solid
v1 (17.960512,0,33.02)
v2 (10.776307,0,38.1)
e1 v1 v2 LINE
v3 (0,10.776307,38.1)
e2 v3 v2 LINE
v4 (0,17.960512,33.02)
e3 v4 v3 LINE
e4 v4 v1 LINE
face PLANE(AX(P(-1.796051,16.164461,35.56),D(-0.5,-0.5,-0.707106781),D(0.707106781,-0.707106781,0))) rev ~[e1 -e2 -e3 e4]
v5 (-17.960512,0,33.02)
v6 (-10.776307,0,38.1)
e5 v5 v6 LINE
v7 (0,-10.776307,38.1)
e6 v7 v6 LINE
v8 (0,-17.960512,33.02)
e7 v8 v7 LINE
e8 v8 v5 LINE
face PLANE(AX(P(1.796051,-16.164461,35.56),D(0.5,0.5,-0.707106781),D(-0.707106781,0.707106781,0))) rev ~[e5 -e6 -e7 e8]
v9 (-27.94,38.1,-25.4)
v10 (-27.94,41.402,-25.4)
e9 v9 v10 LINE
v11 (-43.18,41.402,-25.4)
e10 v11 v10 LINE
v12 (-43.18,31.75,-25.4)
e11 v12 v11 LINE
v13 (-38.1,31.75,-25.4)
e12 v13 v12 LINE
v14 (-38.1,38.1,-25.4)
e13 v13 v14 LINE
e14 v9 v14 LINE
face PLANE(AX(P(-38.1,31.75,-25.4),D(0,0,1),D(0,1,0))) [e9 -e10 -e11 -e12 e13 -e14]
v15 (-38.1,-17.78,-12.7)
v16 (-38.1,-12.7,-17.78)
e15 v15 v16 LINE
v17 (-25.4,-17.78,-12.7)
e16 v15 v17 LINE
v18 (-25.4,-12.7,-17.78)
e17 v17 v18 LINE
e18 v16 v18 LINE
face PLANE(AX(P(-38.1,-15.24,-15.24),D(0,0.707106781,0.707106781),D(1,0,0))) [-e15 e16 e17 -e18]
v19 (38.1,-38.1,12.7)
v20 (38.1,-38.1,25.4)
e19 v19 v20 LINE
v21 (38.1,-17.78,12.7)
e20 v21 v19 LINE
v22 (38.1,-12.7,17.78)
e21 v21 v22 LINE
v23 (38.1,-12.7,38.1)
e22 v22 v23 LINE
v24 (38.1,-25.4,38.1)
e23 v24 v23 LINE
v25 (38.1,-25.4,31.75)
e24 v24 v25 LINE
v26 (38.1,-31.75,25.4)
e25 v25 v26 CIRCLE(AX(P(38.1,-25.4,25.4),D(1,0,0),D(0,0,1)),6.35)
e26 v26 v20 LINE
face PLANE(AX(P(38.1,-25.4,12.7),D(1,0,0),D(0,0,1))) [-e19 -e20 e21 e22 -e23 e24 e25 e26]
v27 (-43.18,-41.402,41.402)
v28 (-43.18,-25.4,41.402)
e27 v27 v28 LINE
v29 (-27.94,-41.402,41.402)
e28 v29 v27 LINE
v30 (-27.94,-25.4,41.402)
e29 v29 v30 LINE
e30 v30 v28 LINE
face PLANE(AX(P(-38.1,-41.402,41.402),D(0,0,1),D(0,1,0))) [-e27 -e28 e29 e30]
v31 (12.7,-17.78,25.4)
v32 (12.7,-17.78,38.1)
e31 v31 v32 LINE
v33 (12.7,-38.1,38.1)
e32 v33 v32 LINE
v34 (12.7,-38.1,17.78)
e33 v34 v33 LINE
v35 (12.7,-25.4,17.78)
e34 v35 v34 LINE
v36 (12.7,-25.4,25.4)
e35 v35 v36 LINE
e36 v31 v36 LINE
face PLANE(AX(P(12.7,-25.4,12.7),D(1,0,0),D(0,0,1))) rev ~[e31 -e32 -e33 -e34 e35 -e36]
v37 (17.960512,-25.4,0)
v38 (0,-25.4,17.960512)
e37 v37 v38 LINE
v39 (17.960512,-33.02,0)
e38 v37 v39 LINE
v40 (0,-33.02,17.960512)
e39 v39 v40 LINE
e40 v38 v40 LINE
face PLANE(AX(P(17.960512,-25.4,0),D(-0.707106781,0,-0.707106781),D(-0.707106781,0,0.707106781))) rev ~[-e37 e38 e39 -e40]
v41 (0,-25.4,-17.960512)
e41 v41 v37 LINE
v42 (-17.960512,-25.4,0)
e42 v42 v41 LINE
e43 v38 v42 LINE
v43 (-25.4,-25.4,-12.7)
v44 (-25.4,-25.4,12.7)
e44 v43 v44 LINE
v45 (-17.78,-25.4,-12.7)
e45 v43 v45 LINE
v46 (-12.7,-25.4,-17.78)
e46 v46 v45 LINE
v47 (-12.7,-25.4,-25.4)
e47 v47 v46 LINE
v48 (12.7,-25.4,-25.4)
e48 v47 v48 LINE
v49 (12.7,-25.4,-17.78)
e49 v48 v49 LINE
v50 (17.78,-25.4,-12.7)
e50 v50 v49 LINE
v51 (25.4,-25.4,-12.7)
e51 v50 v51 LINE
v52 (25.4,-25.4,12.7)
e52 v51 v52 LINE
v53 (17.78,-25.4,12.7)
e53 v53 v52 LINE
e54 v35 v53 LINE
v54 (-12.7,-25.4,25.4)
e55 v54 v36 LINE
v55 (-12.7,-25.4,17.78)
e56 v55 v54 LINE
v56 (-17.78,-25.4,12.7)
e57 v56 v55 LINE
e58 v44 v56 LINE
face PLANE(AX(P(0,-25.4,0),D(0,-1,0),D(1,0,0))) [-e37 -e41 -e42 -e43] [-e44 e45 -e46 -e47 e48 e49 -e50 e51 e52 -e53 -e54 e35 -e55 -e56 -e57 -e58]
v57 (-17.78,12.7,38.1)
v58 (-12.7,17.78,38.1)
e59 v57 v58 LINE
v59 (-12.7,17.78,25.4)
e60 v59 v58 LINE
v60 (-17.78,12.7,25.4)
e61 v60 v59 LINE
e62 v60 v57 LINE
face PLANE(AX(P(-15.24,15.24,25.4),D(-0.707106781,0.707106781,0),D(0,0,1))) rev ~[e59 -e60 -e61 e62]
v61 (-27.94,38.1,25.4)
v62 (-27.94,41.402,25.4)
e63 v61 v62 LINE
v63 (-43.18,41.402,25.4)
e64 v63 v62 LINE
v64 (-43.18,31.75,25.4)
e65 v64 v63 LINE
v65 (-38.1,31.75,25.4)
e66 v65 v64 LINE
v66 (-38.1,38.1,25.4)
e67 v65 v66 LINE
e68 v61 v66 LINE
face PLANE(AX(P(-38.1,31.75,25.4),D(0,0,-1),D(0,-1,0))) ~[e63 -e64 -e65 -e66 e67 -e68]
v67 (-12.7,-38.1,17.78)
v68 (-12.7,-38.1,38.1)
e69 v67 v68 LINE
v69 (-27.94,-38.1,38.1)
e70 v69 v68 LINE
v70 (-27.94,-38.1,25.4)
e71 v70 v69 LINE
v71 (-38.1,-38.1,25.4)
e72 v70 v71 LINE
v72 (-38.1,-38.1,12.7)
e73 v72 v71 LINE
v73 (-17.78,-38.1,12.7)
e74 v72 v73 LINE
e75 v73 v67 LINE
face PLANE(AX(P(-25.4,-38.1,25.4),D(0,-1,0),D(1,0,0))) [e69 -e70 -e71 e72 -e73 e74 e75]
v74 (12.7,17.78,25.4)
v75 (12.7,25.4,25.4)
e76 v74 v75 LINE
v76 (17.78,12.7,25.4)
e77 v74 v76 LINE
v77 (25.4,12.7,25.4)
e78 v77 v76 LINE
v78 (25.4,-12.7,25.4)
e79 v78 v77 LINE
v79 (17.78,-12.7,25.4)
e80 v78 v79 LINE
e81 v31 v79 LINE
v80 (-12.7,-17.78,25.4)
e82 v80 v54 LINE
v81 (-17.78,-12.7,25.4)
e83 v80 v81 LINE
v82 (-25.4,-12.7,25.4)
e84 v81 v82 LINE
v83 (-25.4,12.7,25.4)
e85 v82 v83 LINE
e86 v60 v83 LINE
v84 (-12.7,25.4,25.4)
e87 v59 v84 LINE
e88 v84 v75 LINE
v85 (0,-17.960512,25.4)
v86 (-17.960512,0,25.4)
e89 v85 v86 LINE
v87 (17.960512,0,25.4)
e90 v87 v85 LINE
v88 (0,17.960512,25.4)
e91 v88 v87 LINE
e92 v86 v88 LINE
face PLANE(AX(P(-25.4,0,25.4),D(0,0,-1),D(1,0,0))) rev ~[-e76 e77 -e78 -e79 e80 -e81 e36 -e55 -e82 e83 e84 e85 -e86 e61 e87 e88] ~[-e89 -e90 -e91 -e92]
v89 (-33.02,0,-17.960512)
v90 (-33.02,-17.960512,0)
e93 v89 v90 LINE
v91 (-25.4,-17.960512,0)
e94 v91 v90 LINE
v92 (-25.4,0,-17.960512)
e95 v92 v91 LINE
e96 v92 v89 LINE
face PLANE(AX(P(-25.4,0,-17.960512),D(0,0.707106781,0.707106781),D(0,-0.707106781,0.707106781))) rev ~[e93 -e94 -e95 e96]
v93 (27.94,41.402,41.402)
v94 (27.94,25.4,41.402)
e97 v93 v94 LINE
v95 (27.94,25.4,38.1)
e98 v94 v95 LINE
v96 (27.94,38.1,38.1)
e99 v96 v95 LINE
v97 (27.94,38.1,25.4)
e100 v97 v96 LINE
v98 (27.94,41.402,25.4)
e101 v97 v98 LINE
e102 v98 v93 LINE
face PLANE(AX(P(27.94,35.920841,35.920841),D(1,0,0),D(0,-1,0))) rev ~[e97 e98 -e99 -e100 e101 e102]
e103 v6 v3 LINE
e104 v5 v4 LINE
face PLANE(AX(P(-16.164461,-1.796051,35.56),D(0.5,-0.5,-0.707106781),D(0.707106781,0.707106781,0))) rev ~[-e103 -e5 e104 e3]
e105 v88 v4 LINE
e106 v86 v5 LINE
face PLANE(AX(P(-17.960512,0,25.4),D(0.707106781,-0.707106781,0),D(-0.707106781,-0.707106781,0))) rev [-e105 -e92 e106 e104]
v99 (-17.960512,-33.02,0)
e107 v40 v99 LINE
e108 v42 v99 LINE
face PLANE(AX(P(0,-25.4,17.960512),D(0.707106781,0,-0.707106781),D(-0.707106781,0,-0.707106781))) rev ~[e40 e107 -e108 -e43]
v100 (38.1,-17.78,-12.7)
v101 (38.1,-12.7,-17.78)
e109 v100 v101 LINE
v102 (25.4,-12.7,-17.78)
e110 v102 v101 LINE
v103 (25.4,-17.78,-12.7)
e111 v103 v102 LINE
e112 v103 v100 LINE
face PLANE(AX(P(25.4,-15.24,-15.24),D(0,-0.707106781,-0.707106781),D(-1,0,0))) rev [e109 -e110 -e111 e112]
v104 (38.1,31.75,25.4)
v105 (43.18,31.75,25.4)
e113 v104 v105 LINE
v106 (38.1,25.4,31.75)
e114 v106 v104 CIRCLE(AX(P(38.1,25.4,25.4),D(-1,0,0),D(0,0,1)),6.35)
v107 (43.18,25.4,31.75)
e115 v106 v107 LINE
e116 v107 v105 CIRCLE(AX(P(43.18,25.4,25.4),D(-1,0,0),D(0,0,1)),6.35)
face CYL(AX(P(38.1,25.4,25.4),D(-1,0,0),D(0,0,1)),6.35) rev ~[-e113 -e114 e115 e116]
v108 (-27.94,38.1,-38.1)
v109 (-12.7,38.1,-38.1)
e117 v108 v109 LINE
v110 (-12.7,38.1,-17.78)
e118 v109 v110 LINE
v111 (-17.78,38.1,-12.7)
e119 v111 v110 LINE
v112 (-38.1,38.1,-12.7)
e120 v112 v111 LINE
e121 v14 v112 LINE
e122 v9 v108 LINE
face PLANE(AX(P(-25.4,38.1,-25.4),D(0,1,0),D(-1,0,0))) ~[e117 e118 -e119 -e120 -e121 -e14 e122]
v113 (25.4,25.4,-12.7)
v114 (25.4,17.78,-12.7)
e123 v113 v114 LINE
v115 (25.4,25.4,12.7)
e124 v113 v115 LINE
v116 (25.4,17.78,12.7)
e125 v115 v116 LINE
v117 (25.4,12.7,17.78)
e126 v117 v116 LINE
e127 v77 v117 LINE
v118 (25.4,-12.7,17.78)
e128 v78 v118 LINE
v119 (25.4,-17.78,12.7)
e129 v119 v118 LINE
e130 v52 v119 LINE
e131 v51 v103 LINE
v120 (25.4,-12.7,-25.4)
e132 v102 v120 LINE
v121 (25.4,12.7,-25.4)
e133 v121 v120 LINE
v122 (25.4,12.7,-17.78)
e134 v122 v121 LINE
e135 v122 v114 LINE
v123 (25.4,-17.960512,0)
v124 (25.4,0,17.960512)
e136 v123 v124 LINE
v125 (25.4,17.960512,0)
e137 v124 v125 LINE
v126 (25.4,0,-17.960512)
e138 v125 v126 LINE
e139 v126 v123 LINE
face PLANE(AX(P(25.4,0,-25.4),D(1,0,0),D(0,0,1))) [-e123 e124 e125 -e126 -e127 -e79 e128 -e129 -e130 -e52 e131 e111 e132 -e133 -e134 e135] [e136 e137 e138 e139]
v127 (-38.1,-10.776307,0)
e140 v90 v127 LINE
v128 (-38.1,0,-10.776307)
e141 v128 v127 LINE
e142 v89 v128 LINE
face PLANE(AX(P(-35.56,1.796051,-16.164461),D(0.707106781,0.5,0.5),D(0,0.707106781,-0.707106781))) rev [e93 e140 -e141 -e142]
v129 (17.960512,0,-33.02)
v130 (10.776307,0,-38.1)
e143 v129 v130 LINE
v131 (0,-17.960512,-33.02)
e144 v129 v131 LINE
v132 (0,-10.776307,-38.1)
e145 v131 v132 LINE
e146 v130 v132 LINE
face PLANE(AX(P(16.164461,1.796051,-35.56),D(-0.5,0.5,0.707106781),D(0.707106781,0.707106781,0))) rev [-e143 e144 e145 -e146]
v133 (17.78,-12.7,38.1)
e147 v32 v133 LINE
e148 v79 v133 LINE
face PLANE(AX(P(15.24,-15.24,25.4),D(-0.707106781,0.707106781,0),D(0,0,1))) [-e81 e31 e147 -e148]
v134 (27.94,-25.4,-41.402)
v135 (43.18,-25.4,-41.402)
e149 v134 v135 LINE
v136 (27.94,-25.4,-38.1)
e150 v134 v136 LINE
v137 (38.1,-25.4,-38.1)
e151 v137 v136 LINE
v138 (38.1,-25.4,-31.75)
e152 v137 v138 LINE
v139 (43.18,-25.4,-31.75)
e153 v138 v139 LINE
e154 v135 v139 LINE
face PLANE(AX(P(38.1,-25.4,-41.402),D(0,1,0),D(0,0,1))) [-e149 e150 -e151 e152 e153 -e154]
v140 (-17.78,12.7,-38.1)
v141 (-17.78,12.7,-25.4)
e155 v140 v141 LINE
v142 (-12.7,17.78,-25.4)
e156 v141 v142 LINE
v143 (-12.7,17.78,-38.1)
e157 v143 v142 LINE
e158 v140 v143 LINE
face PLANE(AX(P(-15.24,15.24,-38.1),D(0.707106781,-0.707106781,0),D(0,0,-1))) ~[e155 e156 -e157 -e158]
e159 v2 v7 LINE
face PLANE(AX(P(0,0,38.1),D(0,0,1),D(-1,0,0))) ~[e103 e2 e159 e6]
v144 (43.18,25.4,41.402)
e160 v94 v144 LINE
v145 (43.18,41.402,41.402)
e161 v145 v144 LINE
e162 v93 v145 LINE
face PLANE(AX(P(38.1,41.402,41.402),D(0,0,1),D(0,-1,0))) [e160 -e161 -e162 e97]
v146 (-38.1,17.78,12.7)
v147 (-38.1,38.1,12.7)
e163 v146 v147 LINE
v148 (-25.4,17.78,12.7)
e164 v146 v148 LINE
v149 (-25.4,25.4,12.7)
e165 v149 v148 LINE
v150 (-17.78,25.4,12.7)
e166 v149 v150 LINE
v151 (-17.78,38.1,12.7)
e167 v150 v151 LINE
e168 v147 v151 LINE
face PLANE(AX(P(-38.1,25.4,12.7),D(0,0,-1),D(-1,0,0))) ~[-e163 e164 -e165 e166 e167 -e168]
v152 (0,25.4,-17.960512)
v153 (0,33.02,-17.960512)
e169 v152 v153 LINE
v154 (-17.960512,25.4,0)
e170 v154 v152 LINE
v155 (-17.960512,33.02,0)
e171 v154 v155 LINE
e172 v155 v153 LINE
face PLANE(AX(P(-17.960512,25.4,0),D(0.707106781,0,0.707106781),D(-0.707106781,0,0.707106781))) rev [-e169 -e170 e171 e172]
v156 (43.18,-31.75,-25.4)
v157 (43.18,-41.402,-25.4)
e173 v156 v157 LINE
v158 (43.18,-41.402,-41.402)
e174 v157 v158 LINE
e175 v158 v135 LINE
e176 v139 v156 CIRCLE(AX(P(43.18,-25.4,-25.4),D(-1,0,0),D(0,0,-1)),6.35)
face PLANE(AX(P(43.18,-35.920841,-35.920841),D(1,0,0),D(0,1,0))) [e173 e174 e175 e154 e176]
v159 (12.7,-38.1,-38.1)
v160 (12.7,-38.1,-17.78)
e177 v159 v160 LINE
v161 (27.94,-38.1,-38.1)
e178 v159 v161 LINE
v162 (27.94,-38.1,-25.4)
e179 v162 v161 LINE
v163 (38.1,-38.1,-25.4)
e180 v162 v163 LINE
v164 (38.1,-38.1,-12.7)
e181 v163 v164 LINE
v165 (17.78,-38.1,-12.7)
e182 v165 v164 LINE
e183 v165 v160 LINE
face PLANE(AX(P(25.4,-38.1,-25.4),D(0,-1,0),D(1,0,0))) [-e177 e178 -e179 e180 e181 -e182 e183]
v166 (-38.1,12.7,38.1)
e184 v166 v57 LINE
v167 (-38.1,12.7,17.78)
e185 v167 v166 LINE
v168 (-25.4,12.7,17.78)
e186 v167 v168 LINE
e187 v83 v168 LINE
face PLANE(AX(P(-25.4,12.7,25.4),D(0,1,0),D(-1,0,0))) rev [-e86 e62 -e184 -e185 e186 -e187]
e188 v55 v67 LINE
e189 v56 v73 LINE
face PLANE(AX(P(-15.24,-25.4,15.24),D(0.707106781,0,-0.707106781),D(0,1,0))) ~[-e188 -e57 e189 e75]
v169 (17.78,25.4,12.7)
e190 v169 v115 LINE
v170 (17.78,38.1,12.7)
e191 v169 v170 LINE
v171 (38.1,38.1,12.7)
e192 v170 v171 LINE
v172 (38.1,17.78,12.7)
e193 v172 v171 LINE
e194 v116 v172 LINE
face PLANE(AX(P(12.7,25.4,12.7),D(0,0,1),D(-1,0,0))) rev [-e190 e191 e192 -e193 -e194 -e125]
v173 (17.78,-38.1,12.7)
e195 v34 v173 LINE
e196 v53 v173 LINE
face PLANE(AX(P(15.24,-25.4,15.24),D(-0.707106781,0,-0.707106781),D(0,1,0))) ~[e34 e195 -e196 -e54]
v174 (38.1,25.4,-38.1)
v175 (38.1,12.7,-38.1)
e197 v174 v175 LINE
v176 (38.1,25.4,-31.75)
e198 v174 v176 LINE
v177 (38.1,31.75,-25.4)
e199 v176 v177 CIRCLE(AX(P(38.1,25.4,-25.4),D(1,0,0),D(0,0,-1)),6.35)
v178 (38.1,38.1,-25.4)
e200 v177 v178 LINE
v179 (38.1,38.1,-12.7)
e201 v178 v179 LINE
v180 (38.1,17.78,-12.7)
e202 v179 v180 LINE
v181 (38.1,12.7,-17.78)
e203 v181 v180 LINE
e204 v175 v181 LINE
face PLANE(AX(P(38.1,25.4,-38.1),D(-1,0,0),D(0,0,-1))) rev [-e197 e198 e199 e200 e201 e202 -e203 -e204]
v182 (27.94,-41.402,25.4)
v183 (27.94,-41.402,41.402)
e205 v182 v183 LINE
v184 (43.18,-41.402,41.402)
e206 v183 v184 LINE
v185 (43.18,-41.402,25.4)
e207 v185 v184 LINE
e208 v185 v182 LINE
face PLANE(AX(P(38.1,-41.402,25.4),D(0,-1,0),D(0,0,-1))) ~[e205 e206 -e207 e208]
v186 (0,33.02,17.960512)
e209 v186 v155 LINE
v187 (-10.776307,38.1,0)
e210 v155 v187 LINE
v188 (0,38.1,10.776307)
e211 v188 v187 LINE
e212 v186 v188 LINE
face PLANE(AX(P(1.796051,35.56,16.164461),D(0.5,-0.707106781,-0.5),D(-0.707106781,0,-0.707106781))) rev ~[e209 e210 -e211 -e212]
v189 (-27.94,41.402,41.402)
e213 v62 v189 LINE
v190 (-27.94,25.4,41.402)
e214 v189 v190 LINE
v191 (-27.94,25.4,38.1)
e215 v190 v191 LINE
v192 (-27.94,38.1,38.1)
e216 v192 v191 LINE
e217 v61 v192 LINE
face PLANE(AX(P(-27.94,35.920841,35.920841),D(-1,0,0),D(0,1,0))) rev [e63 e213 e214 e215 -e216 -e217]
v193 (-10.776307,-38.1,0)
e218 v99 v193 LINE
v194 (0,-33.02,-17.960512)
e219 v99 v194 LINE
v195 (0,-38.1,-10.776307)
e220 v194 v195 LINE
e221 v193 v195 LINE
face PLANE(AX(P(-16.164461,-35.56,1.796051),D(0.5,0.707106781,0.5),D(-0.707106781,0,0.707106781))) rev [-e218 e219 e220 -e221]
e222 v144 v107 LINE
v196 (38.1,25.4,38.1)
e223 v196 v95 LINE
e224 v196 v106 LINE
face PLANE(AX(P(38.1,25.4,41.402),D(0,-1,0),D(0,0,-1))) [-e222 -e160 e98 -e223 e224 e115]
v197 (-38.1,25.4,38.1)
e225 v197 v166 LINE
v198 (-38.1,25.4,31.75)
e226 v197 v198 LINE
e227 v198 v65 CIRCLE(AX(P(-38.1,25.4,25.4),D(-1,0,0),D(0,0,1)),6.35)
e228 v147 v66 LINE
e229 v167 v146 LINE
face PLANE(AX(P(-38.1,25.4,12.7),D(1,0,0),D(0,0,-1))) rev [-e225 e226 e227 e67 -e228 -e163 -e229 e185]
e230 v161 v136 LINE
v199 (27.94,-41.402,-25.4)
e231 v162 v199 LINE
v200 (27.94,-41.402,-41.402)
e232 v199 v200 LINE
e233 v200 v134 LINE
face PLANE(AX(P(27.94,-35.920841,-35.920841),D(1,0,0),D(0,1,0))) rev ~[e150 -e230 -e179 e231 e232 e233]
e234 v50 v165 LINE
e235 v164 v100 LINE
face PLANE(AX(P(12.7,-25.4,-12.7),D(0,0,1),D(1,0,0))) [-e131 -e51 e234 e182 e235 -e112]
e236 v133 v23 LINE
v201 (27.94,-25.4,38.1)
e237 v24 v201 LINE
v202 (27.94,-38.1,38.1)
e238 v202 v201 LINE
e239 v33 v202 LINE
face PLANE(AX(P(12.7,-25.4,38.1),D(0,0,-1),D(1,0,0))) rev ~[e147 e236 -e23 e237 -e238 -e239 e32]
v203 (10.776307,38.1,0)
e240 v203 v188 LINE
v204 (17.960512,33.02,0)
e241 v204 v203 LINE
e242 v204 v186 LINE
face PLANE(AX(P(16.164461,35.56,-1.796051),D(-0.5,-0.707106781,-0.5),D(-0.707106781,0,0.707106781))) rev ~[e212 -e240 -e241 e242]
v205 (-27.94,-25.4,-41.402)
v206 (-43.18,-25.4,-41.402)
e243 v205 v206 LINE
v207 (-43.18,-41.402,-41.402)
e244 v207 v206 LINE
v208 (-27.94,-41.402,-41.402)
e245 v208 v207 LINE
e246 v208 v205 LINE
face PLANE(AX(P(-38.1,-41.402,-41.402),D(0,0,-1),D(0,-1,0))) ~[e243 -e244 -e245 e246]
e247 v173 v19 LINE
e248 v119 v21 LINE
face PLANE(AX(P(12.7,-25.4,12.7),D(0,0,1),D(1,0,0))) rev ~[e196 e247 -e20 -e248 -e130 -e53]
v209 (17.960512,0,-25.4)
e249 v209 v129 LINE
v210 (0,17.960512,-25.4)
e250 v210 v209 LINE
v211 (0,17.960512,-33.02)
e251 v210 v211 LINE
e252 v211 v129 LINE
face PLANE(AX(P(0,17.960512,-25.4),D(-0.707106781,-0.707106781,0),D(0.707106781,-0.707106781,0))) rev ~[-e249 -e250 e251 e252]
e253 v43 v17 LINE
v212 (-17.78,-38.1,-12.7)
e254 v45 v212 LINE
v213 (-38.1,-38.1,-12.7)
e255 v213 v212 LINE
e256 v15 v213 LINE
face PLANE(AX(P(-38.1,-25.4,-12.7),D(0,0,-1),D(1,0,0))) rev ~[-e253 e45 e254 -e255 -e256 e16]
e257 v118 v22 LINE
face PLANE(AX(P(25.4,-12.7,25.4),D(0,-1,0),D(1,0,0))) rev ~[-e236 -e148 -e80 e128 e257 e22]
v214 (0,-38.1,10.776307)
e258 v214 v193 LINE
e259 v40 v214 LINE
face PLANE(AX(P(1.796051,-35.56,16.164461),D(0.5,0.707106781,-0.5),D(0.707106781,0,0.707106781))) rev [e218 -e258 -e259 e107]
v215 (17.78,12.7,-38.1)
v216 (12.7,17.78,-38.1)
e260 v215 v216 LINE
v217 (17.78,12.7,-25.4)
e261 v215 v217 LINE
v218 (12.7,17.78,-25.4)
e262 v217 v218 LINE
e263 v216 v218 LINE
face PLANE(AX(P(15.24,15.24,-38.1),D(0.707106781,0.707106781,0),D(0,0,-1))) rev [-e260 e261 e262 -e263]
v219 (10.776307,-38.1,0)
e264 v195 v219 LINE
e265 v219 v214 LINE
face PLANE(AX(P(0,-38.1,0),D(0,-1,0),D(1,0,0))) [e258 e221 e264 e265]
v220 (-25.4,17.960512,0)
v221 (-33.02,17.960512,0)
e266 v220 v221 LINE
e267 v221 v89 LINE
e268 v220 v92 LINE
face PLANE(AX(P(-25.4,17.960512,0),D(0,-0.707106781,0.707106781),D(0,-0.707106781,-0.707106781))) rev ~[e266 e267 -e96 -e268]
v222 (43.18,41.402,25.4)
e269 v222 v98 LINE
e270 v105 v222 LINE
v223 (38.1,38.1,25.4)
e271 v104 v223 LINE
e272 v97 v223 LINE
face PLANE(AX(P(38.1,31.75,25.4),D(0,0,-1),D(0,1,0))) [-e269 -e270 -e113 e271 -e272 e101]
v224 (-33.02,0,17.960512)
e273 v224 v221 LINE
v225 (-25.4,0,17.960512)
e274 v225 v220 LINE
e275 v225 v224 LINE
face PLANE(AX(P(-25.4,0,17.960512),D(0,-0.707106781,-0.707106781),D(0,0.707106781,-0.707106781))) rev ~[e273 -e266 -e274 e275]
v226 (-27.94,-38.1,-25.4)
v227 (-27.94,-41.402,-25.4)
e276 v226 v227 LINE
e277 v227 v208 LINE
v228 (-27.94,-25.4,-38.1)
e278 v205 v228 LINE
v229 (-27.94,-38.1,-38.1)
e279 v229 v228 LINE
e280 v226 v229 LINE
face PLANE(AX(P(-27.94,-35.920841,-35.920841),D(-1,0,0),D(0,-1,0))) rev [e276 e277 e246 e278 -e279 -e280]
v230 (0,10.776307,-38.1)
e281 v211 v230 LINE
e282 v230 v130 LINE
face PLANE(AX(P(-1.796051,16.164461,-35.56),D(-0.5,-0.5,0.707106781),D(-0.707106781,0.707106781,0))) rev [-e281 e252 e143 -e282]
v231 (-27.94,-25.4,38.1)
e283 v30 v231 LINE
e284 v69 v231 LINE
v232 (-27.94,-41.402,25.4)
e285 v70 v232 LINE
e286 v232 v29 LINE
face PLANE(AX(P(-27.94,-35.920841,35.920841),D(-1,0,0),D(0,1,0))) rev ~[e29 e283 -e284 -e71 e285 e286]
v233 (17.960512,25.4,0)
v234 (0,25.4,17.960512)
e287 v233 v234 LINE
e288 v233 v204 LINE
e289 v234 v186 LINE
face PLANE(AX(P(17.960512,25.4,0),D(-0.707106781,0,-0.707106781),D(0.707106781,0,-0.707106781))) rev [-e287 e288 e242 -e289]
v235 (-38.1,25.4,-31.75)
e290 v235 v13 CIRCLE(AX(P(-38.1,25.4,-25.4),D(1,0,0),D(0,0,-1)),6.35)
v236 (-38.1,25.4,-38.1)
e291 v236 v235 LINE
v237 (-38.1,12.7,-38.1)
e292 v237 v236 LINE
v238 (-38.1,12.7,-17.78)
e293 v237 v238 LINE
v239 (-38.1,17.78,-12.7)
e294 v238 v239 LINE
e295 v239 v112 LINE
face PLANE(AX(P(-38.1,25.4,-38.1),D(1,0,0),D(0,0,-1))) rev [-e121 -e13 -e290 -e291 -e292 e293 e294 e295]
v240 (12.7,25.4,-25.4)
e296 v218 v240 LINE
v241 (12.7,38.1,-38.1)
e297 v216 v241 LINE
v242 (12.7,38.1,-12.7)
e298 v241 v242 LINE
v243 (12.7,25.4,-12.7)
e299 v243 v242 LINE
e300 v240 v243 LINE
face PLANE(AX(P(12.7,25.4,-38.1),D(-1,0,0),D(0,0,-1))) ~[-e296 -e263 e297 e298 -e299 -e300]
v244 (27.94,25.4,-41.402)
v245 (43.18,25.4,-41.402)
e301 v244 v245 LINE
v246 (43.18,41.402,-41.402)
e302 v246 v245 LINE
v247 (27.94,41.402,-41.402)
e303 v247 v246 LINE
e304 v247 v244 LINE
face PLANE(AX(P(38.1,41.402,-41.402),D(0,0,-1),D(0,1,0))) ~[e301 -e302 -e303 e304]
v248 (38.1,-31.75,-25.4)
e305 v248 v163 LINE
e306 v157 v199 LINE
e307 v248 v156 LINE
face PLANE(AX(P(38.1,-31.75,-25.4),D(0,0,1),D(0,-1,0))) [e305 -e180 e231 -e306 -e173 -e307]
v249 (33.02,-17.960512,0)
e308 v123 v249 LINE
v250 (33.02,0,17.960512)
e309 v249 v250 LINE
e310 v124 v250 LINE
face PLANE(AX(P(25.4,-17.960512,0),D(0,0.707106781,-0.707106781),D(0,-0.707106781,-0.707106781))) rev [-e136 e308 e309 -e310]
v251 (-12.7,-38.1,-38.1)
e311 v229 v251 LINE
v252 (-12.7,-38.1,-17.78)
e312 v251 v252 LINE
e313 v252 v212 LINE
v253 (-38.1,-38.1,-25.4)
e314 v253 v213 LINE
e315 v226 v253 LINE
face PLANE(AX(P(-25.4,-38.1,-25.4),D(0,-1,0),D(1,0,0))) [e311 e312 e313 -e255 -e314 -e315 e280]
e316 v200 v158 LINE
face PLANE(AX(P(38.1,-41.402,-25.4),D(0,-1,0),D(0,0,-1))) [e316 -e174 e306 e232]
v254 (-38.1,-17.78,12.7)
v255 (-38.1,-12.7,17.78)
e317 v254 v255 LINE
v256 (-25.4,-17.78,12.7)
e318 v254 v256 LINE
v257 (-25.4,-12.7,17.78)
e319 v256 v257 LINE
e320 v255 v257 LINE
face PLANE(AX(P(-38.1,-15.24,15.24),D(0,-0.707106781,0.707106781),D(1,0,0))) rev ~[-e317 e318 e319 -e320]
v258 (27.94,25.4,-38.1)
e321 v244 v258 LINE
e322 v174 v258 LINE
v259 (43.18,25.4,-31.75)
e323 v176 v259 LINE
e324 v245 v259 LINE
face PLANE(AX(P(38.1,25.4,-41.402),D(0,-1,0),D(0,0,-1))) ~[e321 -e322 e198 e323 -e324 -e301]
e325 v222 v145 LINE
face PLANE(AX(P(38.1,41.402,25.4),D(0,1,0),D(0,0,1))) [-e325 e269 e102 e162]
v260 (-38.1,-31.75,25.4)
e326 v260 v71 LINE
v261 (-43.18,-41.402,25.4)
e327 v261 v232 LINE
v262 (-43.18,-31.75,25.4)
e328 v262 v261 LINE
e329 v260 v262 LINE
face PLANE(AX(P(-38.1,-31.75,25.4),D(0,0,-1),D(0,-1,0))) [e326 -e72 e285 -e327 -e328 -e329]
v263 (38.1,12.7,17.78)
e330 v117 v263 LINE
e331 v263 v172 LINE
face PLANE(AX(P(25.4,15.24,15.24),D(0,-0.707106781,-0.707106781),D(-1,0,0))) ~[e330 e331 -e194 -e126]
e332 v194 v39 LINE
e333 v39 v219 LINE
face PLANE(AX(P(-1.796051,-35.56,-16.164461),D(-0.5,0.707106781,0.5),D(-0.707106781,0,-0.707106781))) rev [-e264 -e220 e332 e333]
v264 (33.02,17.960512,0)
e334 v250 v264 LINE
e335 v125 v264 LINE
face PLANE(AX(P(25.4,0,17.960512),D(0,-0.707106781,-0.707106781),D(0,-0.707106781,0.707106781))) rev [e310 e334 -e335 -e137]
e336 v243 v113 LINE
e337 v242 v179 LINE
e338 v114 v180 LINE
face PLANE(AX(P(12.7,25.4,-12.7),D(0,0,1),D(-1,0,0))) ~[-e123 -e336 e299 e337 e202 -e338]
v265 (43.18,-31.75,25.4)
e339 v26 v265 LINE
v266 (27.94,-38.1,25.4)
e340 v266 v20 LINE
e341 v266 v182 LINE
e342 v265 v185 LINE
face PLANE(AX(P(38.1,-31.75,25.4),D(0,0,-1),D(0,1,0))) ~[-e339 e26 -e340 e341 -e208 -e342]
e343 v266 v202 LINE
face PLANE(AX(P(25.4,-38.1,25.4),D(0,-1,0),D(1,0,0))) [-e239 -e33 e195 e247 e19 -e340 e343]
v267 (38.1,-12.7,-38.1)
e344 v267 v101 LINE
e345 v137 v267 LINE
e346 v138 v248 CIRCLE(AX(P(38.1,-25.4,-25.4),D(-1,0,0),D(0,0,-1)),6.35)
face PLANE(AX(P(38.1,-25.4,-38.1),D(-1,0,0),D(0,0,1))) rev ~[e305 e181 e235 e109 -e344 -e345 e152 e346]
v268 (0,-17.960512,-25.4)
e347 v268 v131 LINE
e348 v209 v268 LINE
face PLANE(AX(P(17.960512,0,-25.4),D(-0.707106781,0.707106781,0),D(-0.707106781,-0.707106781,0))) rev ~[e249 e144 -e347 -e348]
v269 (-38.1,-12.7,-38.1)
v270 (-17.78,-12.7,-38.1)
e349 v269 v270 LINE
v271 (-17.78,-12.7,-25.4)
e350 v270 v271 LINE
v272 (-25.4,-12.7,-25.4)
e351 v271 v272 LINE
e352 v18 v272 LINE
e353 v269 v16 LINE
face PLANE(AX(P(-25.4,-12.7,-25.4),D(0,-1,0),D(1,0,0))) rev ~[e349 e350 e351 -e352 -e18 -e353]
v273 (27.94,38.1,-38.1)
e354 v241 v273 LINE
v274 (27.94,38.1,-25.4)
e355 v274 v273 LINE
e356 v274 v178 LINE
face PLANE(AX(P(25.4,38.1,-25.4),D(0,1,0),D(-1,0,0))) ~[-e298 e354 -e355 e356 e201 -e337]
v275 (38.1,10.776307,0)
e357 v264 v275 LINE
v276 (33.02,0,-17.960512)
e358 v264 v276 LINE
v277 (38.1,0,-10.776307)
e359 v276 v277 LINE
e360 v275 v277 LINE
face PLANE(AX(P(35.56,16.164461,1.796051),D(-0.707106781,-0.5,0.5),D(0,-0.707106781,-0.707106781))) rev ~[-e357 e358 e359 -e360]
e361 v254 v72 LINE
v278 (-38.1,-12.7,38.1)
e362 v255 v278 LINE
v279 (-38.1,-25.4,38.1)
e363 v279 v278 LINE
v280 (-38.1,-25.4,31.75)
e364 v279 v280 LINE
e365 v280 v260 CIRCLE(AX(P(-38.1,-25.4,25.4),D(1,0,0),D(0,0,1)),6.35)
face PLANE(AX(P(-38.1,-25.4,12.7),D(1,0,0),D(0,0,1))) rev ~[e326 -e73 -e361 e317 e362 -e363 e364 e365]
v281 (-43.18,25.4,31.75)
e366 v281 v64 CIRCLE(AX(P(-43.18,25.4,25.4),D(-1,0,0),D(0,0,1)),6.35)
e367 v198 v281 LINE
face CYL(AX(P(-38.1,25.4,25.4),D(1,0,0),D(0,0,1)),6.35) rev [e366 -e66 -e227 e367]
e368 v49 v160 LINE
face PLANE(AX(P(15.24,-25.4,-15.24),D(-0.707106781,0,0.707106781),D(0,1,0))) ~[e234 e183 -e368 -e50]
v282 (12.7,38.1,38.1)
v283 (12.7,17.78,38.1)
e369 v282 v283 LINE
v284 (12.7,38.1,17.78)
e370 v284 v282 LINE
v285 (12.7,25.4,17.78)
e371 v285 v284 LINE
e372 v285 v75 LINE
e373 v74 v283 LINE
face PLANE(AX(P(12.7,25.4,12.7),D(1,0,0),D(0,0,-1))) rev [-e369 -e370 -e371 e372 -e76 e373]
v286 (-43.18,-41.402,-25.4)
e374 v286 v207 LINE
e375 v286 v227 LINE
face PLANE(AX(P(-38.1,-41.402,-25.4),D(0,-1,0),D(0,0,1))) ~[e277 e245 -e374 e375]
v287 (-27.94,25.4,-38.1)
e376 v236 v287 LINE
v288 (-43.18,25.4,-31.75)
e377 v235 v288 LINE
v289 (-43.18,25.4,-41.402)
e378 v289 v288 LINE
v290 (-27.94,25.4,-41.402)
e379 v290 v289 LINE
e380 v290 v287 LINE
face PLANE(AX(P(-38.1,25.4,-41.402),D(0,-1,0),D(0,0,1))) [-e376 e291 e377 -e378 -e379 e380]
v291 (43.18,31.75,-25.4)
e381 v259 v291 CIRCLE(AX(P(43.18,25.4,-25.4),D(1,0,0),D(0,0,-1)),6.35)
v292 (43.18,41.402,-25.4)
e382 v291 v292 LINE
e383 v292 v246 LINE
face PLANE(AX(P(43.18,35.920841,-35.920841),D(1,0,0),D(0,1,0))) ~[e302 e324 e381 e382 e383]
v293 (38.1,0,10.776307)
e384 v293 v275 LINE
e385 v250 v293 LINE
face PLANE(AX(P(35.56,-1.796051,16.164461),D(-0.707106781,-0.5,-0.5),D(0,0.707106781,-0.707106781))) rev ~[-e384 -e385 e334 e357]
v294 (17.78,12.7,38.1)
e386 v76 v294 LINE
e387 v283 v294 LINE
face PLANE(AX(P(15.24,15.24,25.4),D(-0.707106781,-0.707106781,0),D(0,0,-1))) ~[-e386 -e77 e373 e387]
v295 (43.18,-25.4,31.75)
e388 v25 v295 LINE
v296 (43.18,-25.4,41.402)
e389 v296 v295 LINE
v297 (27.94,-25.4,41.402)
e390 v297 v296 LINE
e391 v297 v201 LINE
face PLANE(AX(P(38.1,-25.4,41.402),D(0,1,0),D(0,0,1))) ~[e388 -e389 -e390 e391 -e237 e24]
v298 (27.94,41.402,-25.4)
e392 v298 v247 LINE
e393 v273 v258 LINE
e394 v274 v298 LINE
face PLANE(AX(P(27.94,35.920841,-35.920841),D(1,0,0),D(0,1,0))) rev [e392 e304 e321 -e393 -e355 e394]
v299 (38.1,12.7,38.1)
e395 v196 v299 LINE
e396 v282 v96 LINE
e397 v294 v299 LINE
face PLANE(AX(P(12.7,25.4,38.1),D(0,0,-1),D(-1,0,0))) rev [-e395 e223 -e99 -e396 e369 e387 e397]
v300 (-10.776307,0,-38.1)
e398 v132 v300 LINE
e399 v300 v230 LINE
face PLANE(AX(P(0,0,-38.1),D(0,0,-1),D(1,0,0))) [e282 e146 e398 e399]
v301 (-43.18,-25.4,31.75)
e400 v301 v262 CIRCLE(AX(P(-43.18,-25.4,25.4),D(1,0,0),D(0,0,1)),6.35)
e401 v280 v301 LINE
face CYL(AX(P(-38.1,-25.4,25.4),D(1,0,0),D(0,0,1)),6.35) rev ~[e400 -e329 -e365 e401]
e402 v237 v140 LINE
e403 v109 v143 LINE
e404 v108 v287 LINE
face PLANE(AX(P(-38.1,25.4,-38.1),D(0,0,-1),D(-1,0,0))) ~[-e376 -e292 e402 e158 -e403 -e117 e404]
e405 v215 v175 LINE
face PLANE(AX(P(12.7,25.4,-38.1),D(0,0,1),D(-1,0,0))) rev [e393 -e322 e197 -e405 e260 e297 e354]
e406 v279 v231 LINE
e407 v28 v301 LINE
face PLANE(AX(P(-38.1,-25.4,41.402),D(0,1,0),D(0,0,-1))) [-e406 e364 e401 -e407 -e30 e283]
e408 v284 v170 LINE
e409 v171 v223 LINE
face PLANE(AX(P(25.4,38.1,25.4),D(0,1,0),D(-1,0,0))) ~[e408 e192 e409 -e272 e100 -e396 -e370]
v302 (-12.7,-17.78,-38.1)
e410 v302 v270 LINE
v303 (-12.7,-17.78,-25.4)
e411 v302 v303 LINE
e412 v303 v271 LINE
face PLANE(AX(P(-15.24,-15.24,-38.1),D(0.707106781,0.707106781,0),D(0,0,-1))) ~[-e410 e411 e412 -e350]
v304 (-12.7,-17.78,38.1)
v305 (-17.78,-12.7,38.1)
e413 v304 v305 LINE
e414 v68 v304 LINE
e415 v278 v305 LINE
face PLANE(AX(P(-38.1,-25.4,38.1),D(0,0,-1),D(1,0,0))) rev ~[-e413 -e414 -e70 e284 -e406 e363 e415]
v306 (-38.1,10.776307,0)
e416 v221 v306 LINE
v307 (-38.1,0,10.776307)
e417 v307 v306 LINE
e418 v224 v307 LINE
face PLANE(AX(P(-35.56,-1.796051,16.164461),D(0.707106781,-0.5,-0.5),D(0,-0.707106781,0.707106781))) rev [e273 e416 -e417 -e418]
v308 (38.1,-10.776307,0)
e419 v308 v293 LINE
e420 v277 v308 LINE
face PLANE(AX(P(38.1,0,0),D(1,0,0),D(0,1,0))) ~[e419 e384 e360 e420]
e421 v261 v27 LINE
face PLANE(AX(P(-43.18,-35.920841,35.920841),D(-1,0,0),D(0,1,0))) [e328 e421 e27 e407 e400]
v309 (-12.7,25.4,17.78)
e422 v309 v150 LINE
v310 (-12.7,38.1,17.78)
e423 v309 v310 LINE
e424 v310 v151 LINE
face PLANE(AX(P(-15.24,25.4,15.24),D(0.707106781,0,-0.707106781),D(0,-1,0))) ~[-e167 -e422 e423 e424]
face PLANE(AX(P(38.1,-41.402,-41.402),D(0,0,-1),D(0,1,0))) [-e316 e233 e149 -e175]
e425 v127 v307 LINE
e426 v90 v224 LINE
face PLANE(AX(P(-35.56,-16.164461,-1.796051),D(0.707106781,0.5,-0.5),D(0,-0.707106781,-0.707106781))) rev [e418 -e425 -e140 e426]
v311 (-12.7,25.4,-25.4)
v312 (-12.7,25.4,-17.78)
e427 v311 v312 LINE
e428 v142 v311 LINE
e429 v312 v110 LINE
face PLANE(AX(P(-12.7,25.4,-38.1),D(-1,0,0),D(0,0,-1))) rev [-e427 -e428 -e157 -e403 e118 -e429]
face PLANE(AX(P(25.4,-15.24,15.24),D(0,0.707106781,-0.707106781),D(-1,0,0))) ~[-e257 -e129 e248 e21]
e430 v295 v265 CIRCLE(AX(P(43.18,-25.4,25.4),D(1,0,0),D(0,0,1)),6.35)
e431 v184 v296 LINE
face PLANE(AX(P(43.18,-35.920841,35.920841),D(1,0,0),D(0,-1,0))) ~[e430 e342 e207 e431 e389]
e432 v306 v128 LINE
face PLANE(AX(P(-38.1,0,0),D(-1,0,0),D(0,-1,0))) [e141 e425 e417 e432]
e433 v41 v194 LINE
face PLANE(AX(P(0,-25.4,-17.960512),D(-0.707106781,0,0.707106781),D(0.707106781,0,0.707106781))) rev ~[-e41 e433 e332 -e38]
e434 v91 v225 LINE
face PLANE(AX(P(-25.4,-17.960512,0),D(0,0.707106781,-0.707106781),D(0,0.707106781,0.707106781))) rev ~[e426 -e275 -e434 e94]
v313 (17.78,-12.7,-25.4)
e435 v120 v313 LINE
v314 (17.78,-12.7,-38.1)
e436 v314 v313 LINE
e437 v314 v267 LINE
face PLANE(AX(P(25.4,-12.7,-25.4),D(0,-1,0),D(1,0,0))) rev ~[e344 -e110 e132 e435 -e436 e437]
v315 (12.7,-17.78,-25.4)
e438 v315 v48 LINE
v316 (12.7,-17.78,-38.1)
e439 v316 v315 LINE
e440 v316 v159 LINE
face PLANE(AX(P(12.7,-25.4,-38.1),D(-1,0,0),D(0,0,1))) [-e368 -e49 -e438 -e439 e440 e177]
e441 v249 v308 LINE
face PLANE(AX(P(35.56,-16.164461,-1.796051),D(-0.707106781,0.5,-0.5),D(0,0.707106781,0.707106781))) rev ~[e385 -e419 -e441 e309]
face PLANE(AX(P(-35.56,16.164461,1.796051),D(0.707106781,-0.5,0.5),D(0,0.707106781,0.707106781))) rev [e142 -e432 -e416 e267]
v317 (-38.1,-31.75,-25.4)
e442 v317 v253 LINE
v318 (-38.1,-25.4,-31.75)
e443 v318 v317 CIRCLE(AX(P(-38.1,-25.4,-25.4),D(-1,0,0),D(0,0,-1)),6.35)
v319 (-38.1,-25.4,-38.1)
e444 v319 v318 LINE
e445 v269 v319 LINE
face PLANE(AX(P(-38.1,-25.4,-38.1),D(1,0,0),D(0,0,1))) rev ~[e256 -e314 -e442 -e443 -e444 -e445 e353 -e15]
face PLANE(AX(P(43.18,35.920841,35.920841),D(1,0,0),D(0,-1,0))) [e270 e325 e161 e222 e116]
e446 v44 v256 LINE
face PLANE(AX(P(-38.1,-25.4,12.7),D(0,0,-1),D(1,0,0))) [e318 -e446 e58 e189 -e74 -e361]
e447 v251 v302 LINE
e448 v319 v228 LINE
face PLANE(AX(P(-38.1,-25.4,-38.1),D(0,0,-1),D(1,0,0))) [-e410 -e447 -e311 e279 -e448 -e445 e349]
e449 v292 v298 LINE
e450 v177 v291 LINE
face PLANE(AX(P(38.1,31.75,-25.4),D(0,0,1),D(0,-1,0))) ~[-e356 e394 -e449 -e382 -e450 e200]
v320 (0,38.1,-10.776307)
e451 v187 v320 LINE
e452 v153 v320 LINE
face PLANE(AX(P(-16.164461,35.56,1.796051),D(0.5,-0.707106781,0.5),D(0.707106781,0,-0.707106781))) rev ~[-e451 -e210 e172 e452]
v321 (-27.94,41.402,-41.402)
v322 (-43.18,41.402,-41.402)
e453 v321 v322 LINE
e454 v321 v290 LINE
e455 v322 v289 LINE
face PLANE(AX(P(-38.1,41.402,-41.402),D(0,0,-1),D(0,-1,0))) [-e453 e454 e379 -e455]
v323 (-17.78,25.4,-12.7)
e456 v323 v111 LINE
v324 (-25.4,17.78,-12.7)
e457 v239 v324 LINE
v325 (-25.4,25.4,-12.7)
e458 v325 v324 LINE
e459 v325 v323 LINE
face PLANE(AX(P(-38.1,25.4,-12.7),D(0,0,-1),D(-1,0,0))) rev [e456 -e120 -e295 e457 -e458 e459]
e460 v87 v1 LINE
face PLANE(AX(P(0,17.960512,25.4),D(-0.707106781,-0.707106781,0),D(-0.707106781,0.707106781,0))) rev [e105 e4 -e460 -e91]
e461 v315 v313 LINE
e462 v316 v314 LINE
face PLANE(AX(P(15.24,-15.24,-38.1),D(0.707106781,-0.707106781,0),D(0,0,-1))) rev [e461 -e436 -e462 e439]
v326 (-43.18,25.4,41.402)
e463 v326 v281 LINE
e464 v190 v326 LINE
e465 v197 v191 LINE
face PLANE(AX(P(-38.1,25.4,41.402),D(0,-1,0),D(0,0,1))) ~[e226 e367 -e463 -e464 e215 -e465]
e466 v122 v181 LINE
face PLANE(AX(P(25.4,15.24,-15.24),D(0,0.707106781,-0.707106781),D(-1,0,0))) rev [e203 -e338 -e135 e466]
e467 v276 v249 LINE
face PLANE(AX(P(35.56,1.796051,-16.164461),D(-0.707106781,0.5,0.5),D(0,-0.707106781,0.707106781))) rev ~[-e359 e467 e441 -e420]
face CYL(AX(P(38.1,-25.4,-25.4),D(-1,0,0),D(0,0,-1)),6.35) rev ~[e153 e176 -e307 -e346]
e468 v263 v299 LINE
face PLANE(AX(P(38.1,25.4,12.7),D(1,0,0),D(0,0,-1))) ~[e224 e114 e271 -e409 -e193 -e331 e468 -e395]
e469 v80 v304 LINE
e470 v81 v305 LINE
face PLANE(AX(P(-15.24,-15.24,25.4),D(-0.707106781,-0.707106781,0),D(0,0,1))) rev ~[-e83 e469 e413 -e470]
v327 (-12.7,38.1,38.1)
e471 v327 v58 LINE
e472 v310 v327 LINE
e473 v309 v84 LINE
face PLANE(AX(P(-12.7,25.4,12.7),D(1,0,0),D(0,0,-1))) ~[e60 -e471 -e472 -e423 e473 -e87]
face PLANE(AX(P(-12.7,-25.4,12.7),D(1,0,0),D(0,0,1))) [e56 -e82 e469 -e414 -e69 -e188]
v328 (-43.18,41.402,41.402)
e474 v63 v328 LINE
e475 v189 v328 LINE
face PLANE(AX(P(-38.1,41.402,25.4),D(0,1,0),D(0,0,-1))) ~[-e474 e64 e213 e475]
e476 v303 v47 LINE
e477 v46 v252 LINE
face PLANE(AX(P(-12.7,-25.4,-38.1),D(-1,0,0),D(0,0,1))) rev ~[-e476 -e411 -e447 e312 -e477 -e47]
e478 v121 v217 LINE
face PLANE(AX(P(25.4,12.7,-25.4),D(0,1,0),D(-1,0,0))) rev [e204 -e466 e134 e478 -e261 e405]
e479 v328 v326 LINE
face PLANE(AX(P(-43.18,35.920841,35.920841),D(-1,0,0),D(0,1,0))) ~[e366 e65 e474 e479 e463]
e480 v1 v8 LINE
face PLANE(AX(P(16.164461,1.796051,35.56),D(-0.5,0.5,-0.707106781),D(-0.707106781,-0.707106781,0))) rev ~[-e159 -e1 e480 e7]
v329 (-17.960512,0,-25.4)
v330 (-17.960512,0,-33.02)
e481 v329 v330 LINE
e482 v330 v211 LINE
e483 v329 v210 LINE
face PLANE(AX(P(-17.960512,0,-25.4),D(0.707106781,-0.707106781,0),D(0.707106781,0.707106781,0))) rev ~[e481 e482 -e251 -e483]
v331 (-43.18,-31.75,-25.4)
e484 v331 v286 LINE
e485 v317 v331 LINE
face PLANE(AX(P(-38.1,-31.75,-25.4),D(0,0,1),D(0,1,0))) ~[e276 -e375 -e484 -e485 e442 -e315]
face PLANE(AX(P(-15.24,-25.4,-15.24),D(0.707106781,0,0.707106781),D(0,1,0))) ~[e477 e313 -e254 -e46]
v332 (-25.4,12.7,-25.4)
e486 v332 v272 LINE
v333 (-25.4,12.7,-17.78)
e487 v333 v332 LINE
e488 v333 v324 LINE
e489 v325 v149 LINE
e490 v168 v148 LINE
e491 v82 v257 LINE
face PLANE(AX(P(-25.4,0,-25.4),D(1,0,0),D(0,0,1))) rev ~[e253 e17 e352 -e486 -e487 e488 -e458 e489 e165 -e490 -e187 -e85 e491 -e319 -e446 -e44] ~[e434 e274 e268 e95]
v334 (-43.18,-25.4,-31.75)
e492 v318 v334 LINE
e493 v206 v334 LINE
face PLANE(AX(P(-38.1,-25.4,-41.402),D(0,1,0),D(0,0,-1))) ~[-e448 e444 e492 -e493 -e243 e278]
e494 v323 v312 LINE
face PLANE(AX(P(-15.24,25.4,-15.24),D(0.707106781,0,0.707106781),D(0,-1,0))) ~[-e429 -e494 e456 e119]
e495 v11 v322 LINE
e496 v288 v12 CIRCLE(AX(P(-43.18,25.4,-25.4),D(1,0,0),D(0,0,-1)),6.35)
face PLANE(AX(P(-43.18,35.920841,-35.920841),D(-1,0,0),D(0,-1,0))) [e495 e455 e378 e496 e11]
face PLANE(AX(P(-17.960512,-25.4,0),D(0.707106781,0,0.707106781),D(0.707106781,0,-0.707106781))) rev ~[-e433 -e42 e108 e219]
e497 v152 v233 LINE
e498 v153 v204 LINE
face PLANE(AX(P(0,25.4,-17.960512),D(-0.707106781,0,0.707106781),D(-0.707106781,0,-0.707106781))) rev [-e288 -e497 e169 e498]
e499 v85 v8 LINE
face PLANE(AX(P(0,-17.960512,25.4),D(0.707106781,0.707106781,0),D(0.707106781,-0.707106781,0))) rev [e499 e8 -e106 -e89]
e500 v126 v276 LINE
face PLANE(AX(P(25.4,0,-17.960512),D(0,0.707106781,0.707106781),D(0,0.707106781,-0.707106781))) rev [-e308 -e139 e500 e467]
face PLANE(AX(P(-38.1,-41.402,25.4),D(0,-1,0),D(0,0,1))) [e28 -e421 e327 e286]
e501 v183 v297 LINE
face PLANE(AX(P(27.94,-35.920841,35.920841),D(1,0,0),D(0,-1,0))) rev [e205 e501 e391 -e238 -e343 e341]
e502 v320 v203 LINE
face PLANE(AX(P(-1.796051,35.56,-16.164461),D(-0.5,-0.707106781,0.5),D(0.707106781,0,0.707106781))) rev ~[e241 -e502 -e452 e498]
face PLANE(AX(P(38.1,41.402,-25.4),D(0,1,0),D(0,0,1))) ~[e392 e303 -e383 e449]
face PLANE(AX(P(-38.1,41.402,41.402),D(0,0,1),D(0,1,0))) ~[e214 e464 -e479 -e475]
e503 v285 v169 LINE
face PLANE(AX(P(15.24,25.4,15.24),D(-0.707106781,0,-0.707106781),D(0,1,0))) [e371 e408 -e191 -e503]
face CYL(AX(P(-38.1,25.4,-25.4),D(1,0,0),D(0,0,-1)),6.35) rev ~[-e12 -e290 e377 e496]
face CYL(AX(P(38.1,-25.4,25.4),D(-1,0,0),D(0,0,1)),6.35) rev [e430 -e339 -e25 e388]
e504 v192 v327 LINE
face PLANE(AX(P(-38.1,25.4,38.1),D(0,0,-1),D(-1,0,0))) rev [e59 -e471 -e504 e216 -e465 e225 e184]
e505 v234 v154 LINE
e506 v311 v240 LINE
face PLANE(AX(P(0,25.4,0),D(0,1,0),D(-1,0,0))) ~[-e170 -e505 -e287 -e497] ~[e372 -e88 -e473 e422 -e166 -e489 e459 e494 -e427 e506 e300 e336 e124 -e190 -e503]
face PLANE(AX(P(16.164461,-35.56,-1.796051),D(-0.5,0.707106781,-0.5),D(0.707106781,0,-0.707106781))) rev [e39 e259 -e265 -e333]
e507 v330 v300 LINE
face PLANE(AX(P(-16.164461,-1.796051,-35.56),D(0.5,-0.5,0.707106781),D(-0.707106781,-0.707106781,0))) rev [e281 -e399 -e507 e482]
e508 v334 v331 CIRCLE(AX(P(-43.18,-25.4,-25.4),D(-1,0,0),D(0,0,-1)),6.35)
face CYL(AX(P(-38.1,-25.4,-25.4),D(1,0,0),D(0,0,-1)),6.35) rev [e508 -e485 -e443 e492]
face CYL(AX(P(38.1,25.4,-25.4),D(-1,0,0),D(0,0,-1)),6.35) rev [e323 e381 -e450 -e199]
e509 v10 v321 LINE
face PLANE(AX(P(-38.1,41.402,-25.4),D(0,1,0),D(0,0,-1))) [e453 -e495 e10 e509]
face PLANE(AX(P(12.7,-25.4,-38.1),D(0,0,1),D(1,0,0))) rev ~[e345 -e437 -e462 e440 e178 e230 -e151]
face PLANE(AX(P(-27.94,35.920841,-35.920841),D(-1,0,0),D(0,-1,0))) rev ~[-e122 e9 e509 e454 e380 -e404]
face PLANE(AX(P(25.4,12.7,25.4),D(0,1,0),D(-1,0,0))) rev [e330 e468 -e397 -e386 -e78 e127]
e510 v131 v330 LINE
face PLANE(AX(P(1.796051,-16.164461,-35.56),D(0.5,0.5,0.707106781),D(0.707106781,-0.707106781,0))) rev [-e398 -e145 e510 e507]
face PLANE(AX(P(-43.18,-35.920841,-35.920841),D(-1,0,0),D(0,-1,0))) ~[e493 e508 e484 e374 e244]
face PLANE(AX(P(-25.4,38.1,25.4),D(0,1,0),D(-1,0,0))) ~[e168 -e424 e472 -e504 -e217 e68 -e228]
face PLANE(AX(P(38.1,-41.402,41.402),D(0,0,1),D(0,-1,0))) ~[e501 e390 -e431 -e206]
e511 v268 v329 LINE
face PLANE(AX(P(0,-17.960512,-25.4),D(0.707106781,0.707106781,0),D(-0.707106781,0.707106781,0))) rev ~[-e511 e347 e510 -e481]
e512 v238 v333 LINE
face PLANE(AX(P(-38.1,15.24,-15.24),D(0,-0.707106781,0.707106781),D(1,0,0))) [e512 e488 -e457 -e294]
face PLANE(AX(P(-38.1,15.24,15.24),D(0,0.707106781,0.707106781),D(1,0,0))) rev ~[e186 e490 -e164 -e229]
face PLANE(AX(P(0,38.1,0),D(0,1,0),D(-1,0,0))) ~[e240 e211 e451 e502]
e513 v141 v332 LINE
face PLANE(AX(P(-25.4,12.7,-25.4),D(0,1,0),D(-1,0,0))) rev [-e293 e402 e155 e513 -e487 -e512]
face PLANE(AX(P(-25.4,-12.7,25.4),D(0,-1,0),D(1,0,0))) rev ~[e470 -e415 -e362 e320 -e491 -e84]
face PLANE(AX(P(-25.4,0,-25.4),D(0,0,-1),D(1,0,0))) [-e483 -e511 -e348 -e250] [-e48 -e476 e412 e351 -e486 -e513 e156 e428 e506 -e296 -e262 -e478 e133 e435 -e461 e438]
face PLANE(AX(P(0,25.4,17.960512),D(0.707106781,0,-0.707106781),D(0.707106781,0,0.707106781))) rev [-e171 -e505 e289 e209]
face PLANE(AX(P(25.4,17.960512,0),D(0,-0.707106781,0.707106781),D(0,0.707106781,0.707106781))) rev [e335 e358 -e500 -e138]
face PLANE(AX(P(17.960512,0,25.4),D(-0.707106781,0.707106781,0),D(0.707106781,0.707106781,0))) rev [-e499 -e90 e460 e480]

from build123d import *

# Parameters (mm, degrees)
F0_W           = 50.8
F0_H           = 50.8
F1_DEPTH       = 25.4
F1_DEPTH_BACK  = 25.4
F2_W           = 25.4
F2_H           = 25.4
F3_DEPTH       = 12.7
F3_DEPTH_BACK  = 12.7
F6_DEPTH       = 12.7
F6_DEPTH_BACK  = 12.7
F9_DEPTH       = 12.7
F9_DEPTH_BACK  = 12.7
F11_DEPTH      = 5.08
F11_DEPTH_BACK = 10.16
F16_SIZE       = 5.08
F17_SIZE       = 5.08


with BuildPart() as f1:
    # F0 (on Front) → F1 (new body, two sides)
    with BuildSketch(Plane.XZ) as f1_sk:
        Rectangle(F0_W, F0_H)
    extrude(amount=F1_DEPTH)
    extrude(f1_sk.sketch, amount=-F1_DEPTH_BACK)

    # F2 (on face) → F3 (join, two sides)
    with BuildSketch(Plane.XZ.offset(25.4)) as f3_sk:
        with Locations((-25.4, 25.4)):
            Rectangle(F2_W, F2_H)
        with Locations((25.4, 25.4)):
            Rectangle(F2_W, F2_H)
        with Locations((25.4, -25.4)):
            Rectangle(F2_W, F2_H)
        with Locations((-25.4, -25.4)):
            Rectangle(F2_W, F2_H)
        Polygon((17.9605122421, 0), (0, 17.9605122421), (-17.9605122421, 0), (0, -17.9605122421), align=None)
    extrude(amount=F3_DEPTH)
    extrude(f3_sk.sketch, amount=-F3_DEPTH_BACK)

    # F4: F1 across plane


with BuildPart() as f1_1:
    add(f1.part)
    add(f1.part.mirror(Plane.XZ))

    # F5 (on face) → F6 (join, two sides)
    with BuildSketch(Plane(origin=(0, 0, -25.4), x_dir=(1, 0, 0), z_dir=(0, 0, -1))) as f6_sk:
        Polygon((17.9605122421, 0), (0, 17.9605122421), (-17.9605122421, 0), (0, -17.9605122421), align=None)
    extrude(amount=F6_DEPTH)
    extrude(f6_sk.sketch, amount=-F6_DEPTH_BACK)

    # F7: F1 across plane


with BuildPart() as f1_2:
    add(f1_1.part)
    add(f1_1.part.mirror(Plane.XY))

    # F8 (on face) → F9 (join, two sides)
    with BuildSketch(Plane(origin=(-25.4, 0, 0), x_dir=(0, -1, 0), z_dir=(-1, 0, 0))) as f9_sk:
        Polygon((17.9605122421, 0), (0, 17.9605122421), (-17.9605122421, 0), (0, -17.9605122421), align=None)
    extrude(amount=F9_DEPTH)
    extrude(f9_sk.sketch, amount=-F9_DEPTH_BACK)

    # F10 (on face) → F11 (join, two sides)
    with BuildSketch(Plane(origin=(-38.1, 0, 0), x_dir=(0, -1, 0), z_dir=(-1, 0, 0))) as f11_sk:
        Polygon((-38.1, -38.1), (-38.1, -25.4), (-41.402, -25.4), (-41.402, -38.1), (-41.402, -41.402), (-38.1, -41.402), (-25.4, -41.402), (-25.4, -38.1), align=None)
        with BuildLine():
            Line((-31.75, -25.4), (-38.1, -25.4))
            Line((-38.1, -25.4), (-38.1, -38.1))
            Line((-38.1, -38.1), (-25.4, -38.1))
            Line((-25.4, -38.1), (-25.4, -31.75))
            ThreePointArc((-25.4, -31.75), (-29.8901280605, -29.8901280605), (-31.75, -25.4))
        make_face()
    extrude(amount=F11_DEPTH)
    extrude(f11_sk.sketch, amount=-F11_DEPTH_BACK)

    # F12: F1 across plane


with BuildPart() as f1_3:
    add(f1_2.part)
    add(f1_2.part.mirror(Plane.YZ))

    # F13: F1 across plane


with BuildPart() as f1_4:
    add(f1_3.part)
    add(f1_3.part.mirror(Plane.XY))

    # F14: F1 across plane


with BuildPart() as f1_5:
    add(f1_4.part)
    add(f1_4.part.mirror(Plane.XZ))

    # F15: F1 across plane


with BuildPart() as f1_6:
    add(f1_5.part)
    add(f1_5.part.mirror(Plane.YZ), mode=Mode.INTERSECT)

    # F16
    f16_edges = [f1_6.edges().sort_by_distance(p)[0] for p in [
        (12.7, 12.7, -31.75),
        (12.7, -12.7, -31.75),
        (-12.7, -12.7, -31.75),
        (-12.7, 12.7, -31.75),
        (-12.7, 31.75, -12.7),
        (12.7, 31.75, 12.7),
        (-12.7, 31.75, 12.7),
        (31.75, 12.7, 12.7),
        (31.75, -12.7, 12.7),
        (31.75, -12.7, -12.7),
        (31.75, 12.7, -12.7),
        (-12.7, -12.7, 31.75),
        (-12.7, 12.7, 31.75),
        (12.7, -31.75, 12.7),
        (-12.7, -31.75, -12.7),
        (12.7, -31.75, -12.7),
        (12.7, 12.7, 31.75),
        (12.7, -12.7, 31.75),
        (-31.75, 12.7, -12.7),
        (-31.75, 12.7, 12.7),
        (-31.75, -12.7, -12.7),
        (-31.75, -12.7, 12.7),
        (-12.7, -31.75, 12.7),
    ]]
    chamfer(f16_edges, length=F16_SIZE)

    # F17
    f17_edges = [f1_6.edges().sort_by_distance(p)[0] for p in [
        (-38.1, 8.980256, -8.980256),
        (-38.1, -8.980256, -8.980256),
        (-38.1, -8.980256, 8.980256),
        (-38.1, 8.980256, 8.980256),
        (8.980256, -8.980256, -38.1),
        (-8.980256, -8.980256, -38.1),
        (-8.980256, 8.980256, -38.1),
        (8.980256, 8.980256, -38.1),
        (8.980256, 38.1, 8.980256),
        (-8.980256, 38.1, 8.980256),
        (-8.980256, 38.1, -8.980256),
        (8.980256, 38.1, -8.980256),
        (8.980256, -8.980256, 38.1),
        (-8.980256, -8.980256, 38.1),
        (-8.980256, 8.980256, 38.1),
        (8.980256, 8.980256, 38.1),
        (38.1, 8.980256, -8.980256),
        (38.1, -8.980256, -8.980256),
        (38.1, -8.980256, 8.980256),
        (38.1, 8.980256, 8.980256),
        (8.980256, -38.1, 8.980256),
        (-8.980256, -38.1, 8.980256),
        (-8.980256, -38.1, -8.980256),
        (8.980256, -38.1, -8.980256),
    ]]
    chamfer(f17_edges, length=F17_SIZE)


solid = f1_6.part
